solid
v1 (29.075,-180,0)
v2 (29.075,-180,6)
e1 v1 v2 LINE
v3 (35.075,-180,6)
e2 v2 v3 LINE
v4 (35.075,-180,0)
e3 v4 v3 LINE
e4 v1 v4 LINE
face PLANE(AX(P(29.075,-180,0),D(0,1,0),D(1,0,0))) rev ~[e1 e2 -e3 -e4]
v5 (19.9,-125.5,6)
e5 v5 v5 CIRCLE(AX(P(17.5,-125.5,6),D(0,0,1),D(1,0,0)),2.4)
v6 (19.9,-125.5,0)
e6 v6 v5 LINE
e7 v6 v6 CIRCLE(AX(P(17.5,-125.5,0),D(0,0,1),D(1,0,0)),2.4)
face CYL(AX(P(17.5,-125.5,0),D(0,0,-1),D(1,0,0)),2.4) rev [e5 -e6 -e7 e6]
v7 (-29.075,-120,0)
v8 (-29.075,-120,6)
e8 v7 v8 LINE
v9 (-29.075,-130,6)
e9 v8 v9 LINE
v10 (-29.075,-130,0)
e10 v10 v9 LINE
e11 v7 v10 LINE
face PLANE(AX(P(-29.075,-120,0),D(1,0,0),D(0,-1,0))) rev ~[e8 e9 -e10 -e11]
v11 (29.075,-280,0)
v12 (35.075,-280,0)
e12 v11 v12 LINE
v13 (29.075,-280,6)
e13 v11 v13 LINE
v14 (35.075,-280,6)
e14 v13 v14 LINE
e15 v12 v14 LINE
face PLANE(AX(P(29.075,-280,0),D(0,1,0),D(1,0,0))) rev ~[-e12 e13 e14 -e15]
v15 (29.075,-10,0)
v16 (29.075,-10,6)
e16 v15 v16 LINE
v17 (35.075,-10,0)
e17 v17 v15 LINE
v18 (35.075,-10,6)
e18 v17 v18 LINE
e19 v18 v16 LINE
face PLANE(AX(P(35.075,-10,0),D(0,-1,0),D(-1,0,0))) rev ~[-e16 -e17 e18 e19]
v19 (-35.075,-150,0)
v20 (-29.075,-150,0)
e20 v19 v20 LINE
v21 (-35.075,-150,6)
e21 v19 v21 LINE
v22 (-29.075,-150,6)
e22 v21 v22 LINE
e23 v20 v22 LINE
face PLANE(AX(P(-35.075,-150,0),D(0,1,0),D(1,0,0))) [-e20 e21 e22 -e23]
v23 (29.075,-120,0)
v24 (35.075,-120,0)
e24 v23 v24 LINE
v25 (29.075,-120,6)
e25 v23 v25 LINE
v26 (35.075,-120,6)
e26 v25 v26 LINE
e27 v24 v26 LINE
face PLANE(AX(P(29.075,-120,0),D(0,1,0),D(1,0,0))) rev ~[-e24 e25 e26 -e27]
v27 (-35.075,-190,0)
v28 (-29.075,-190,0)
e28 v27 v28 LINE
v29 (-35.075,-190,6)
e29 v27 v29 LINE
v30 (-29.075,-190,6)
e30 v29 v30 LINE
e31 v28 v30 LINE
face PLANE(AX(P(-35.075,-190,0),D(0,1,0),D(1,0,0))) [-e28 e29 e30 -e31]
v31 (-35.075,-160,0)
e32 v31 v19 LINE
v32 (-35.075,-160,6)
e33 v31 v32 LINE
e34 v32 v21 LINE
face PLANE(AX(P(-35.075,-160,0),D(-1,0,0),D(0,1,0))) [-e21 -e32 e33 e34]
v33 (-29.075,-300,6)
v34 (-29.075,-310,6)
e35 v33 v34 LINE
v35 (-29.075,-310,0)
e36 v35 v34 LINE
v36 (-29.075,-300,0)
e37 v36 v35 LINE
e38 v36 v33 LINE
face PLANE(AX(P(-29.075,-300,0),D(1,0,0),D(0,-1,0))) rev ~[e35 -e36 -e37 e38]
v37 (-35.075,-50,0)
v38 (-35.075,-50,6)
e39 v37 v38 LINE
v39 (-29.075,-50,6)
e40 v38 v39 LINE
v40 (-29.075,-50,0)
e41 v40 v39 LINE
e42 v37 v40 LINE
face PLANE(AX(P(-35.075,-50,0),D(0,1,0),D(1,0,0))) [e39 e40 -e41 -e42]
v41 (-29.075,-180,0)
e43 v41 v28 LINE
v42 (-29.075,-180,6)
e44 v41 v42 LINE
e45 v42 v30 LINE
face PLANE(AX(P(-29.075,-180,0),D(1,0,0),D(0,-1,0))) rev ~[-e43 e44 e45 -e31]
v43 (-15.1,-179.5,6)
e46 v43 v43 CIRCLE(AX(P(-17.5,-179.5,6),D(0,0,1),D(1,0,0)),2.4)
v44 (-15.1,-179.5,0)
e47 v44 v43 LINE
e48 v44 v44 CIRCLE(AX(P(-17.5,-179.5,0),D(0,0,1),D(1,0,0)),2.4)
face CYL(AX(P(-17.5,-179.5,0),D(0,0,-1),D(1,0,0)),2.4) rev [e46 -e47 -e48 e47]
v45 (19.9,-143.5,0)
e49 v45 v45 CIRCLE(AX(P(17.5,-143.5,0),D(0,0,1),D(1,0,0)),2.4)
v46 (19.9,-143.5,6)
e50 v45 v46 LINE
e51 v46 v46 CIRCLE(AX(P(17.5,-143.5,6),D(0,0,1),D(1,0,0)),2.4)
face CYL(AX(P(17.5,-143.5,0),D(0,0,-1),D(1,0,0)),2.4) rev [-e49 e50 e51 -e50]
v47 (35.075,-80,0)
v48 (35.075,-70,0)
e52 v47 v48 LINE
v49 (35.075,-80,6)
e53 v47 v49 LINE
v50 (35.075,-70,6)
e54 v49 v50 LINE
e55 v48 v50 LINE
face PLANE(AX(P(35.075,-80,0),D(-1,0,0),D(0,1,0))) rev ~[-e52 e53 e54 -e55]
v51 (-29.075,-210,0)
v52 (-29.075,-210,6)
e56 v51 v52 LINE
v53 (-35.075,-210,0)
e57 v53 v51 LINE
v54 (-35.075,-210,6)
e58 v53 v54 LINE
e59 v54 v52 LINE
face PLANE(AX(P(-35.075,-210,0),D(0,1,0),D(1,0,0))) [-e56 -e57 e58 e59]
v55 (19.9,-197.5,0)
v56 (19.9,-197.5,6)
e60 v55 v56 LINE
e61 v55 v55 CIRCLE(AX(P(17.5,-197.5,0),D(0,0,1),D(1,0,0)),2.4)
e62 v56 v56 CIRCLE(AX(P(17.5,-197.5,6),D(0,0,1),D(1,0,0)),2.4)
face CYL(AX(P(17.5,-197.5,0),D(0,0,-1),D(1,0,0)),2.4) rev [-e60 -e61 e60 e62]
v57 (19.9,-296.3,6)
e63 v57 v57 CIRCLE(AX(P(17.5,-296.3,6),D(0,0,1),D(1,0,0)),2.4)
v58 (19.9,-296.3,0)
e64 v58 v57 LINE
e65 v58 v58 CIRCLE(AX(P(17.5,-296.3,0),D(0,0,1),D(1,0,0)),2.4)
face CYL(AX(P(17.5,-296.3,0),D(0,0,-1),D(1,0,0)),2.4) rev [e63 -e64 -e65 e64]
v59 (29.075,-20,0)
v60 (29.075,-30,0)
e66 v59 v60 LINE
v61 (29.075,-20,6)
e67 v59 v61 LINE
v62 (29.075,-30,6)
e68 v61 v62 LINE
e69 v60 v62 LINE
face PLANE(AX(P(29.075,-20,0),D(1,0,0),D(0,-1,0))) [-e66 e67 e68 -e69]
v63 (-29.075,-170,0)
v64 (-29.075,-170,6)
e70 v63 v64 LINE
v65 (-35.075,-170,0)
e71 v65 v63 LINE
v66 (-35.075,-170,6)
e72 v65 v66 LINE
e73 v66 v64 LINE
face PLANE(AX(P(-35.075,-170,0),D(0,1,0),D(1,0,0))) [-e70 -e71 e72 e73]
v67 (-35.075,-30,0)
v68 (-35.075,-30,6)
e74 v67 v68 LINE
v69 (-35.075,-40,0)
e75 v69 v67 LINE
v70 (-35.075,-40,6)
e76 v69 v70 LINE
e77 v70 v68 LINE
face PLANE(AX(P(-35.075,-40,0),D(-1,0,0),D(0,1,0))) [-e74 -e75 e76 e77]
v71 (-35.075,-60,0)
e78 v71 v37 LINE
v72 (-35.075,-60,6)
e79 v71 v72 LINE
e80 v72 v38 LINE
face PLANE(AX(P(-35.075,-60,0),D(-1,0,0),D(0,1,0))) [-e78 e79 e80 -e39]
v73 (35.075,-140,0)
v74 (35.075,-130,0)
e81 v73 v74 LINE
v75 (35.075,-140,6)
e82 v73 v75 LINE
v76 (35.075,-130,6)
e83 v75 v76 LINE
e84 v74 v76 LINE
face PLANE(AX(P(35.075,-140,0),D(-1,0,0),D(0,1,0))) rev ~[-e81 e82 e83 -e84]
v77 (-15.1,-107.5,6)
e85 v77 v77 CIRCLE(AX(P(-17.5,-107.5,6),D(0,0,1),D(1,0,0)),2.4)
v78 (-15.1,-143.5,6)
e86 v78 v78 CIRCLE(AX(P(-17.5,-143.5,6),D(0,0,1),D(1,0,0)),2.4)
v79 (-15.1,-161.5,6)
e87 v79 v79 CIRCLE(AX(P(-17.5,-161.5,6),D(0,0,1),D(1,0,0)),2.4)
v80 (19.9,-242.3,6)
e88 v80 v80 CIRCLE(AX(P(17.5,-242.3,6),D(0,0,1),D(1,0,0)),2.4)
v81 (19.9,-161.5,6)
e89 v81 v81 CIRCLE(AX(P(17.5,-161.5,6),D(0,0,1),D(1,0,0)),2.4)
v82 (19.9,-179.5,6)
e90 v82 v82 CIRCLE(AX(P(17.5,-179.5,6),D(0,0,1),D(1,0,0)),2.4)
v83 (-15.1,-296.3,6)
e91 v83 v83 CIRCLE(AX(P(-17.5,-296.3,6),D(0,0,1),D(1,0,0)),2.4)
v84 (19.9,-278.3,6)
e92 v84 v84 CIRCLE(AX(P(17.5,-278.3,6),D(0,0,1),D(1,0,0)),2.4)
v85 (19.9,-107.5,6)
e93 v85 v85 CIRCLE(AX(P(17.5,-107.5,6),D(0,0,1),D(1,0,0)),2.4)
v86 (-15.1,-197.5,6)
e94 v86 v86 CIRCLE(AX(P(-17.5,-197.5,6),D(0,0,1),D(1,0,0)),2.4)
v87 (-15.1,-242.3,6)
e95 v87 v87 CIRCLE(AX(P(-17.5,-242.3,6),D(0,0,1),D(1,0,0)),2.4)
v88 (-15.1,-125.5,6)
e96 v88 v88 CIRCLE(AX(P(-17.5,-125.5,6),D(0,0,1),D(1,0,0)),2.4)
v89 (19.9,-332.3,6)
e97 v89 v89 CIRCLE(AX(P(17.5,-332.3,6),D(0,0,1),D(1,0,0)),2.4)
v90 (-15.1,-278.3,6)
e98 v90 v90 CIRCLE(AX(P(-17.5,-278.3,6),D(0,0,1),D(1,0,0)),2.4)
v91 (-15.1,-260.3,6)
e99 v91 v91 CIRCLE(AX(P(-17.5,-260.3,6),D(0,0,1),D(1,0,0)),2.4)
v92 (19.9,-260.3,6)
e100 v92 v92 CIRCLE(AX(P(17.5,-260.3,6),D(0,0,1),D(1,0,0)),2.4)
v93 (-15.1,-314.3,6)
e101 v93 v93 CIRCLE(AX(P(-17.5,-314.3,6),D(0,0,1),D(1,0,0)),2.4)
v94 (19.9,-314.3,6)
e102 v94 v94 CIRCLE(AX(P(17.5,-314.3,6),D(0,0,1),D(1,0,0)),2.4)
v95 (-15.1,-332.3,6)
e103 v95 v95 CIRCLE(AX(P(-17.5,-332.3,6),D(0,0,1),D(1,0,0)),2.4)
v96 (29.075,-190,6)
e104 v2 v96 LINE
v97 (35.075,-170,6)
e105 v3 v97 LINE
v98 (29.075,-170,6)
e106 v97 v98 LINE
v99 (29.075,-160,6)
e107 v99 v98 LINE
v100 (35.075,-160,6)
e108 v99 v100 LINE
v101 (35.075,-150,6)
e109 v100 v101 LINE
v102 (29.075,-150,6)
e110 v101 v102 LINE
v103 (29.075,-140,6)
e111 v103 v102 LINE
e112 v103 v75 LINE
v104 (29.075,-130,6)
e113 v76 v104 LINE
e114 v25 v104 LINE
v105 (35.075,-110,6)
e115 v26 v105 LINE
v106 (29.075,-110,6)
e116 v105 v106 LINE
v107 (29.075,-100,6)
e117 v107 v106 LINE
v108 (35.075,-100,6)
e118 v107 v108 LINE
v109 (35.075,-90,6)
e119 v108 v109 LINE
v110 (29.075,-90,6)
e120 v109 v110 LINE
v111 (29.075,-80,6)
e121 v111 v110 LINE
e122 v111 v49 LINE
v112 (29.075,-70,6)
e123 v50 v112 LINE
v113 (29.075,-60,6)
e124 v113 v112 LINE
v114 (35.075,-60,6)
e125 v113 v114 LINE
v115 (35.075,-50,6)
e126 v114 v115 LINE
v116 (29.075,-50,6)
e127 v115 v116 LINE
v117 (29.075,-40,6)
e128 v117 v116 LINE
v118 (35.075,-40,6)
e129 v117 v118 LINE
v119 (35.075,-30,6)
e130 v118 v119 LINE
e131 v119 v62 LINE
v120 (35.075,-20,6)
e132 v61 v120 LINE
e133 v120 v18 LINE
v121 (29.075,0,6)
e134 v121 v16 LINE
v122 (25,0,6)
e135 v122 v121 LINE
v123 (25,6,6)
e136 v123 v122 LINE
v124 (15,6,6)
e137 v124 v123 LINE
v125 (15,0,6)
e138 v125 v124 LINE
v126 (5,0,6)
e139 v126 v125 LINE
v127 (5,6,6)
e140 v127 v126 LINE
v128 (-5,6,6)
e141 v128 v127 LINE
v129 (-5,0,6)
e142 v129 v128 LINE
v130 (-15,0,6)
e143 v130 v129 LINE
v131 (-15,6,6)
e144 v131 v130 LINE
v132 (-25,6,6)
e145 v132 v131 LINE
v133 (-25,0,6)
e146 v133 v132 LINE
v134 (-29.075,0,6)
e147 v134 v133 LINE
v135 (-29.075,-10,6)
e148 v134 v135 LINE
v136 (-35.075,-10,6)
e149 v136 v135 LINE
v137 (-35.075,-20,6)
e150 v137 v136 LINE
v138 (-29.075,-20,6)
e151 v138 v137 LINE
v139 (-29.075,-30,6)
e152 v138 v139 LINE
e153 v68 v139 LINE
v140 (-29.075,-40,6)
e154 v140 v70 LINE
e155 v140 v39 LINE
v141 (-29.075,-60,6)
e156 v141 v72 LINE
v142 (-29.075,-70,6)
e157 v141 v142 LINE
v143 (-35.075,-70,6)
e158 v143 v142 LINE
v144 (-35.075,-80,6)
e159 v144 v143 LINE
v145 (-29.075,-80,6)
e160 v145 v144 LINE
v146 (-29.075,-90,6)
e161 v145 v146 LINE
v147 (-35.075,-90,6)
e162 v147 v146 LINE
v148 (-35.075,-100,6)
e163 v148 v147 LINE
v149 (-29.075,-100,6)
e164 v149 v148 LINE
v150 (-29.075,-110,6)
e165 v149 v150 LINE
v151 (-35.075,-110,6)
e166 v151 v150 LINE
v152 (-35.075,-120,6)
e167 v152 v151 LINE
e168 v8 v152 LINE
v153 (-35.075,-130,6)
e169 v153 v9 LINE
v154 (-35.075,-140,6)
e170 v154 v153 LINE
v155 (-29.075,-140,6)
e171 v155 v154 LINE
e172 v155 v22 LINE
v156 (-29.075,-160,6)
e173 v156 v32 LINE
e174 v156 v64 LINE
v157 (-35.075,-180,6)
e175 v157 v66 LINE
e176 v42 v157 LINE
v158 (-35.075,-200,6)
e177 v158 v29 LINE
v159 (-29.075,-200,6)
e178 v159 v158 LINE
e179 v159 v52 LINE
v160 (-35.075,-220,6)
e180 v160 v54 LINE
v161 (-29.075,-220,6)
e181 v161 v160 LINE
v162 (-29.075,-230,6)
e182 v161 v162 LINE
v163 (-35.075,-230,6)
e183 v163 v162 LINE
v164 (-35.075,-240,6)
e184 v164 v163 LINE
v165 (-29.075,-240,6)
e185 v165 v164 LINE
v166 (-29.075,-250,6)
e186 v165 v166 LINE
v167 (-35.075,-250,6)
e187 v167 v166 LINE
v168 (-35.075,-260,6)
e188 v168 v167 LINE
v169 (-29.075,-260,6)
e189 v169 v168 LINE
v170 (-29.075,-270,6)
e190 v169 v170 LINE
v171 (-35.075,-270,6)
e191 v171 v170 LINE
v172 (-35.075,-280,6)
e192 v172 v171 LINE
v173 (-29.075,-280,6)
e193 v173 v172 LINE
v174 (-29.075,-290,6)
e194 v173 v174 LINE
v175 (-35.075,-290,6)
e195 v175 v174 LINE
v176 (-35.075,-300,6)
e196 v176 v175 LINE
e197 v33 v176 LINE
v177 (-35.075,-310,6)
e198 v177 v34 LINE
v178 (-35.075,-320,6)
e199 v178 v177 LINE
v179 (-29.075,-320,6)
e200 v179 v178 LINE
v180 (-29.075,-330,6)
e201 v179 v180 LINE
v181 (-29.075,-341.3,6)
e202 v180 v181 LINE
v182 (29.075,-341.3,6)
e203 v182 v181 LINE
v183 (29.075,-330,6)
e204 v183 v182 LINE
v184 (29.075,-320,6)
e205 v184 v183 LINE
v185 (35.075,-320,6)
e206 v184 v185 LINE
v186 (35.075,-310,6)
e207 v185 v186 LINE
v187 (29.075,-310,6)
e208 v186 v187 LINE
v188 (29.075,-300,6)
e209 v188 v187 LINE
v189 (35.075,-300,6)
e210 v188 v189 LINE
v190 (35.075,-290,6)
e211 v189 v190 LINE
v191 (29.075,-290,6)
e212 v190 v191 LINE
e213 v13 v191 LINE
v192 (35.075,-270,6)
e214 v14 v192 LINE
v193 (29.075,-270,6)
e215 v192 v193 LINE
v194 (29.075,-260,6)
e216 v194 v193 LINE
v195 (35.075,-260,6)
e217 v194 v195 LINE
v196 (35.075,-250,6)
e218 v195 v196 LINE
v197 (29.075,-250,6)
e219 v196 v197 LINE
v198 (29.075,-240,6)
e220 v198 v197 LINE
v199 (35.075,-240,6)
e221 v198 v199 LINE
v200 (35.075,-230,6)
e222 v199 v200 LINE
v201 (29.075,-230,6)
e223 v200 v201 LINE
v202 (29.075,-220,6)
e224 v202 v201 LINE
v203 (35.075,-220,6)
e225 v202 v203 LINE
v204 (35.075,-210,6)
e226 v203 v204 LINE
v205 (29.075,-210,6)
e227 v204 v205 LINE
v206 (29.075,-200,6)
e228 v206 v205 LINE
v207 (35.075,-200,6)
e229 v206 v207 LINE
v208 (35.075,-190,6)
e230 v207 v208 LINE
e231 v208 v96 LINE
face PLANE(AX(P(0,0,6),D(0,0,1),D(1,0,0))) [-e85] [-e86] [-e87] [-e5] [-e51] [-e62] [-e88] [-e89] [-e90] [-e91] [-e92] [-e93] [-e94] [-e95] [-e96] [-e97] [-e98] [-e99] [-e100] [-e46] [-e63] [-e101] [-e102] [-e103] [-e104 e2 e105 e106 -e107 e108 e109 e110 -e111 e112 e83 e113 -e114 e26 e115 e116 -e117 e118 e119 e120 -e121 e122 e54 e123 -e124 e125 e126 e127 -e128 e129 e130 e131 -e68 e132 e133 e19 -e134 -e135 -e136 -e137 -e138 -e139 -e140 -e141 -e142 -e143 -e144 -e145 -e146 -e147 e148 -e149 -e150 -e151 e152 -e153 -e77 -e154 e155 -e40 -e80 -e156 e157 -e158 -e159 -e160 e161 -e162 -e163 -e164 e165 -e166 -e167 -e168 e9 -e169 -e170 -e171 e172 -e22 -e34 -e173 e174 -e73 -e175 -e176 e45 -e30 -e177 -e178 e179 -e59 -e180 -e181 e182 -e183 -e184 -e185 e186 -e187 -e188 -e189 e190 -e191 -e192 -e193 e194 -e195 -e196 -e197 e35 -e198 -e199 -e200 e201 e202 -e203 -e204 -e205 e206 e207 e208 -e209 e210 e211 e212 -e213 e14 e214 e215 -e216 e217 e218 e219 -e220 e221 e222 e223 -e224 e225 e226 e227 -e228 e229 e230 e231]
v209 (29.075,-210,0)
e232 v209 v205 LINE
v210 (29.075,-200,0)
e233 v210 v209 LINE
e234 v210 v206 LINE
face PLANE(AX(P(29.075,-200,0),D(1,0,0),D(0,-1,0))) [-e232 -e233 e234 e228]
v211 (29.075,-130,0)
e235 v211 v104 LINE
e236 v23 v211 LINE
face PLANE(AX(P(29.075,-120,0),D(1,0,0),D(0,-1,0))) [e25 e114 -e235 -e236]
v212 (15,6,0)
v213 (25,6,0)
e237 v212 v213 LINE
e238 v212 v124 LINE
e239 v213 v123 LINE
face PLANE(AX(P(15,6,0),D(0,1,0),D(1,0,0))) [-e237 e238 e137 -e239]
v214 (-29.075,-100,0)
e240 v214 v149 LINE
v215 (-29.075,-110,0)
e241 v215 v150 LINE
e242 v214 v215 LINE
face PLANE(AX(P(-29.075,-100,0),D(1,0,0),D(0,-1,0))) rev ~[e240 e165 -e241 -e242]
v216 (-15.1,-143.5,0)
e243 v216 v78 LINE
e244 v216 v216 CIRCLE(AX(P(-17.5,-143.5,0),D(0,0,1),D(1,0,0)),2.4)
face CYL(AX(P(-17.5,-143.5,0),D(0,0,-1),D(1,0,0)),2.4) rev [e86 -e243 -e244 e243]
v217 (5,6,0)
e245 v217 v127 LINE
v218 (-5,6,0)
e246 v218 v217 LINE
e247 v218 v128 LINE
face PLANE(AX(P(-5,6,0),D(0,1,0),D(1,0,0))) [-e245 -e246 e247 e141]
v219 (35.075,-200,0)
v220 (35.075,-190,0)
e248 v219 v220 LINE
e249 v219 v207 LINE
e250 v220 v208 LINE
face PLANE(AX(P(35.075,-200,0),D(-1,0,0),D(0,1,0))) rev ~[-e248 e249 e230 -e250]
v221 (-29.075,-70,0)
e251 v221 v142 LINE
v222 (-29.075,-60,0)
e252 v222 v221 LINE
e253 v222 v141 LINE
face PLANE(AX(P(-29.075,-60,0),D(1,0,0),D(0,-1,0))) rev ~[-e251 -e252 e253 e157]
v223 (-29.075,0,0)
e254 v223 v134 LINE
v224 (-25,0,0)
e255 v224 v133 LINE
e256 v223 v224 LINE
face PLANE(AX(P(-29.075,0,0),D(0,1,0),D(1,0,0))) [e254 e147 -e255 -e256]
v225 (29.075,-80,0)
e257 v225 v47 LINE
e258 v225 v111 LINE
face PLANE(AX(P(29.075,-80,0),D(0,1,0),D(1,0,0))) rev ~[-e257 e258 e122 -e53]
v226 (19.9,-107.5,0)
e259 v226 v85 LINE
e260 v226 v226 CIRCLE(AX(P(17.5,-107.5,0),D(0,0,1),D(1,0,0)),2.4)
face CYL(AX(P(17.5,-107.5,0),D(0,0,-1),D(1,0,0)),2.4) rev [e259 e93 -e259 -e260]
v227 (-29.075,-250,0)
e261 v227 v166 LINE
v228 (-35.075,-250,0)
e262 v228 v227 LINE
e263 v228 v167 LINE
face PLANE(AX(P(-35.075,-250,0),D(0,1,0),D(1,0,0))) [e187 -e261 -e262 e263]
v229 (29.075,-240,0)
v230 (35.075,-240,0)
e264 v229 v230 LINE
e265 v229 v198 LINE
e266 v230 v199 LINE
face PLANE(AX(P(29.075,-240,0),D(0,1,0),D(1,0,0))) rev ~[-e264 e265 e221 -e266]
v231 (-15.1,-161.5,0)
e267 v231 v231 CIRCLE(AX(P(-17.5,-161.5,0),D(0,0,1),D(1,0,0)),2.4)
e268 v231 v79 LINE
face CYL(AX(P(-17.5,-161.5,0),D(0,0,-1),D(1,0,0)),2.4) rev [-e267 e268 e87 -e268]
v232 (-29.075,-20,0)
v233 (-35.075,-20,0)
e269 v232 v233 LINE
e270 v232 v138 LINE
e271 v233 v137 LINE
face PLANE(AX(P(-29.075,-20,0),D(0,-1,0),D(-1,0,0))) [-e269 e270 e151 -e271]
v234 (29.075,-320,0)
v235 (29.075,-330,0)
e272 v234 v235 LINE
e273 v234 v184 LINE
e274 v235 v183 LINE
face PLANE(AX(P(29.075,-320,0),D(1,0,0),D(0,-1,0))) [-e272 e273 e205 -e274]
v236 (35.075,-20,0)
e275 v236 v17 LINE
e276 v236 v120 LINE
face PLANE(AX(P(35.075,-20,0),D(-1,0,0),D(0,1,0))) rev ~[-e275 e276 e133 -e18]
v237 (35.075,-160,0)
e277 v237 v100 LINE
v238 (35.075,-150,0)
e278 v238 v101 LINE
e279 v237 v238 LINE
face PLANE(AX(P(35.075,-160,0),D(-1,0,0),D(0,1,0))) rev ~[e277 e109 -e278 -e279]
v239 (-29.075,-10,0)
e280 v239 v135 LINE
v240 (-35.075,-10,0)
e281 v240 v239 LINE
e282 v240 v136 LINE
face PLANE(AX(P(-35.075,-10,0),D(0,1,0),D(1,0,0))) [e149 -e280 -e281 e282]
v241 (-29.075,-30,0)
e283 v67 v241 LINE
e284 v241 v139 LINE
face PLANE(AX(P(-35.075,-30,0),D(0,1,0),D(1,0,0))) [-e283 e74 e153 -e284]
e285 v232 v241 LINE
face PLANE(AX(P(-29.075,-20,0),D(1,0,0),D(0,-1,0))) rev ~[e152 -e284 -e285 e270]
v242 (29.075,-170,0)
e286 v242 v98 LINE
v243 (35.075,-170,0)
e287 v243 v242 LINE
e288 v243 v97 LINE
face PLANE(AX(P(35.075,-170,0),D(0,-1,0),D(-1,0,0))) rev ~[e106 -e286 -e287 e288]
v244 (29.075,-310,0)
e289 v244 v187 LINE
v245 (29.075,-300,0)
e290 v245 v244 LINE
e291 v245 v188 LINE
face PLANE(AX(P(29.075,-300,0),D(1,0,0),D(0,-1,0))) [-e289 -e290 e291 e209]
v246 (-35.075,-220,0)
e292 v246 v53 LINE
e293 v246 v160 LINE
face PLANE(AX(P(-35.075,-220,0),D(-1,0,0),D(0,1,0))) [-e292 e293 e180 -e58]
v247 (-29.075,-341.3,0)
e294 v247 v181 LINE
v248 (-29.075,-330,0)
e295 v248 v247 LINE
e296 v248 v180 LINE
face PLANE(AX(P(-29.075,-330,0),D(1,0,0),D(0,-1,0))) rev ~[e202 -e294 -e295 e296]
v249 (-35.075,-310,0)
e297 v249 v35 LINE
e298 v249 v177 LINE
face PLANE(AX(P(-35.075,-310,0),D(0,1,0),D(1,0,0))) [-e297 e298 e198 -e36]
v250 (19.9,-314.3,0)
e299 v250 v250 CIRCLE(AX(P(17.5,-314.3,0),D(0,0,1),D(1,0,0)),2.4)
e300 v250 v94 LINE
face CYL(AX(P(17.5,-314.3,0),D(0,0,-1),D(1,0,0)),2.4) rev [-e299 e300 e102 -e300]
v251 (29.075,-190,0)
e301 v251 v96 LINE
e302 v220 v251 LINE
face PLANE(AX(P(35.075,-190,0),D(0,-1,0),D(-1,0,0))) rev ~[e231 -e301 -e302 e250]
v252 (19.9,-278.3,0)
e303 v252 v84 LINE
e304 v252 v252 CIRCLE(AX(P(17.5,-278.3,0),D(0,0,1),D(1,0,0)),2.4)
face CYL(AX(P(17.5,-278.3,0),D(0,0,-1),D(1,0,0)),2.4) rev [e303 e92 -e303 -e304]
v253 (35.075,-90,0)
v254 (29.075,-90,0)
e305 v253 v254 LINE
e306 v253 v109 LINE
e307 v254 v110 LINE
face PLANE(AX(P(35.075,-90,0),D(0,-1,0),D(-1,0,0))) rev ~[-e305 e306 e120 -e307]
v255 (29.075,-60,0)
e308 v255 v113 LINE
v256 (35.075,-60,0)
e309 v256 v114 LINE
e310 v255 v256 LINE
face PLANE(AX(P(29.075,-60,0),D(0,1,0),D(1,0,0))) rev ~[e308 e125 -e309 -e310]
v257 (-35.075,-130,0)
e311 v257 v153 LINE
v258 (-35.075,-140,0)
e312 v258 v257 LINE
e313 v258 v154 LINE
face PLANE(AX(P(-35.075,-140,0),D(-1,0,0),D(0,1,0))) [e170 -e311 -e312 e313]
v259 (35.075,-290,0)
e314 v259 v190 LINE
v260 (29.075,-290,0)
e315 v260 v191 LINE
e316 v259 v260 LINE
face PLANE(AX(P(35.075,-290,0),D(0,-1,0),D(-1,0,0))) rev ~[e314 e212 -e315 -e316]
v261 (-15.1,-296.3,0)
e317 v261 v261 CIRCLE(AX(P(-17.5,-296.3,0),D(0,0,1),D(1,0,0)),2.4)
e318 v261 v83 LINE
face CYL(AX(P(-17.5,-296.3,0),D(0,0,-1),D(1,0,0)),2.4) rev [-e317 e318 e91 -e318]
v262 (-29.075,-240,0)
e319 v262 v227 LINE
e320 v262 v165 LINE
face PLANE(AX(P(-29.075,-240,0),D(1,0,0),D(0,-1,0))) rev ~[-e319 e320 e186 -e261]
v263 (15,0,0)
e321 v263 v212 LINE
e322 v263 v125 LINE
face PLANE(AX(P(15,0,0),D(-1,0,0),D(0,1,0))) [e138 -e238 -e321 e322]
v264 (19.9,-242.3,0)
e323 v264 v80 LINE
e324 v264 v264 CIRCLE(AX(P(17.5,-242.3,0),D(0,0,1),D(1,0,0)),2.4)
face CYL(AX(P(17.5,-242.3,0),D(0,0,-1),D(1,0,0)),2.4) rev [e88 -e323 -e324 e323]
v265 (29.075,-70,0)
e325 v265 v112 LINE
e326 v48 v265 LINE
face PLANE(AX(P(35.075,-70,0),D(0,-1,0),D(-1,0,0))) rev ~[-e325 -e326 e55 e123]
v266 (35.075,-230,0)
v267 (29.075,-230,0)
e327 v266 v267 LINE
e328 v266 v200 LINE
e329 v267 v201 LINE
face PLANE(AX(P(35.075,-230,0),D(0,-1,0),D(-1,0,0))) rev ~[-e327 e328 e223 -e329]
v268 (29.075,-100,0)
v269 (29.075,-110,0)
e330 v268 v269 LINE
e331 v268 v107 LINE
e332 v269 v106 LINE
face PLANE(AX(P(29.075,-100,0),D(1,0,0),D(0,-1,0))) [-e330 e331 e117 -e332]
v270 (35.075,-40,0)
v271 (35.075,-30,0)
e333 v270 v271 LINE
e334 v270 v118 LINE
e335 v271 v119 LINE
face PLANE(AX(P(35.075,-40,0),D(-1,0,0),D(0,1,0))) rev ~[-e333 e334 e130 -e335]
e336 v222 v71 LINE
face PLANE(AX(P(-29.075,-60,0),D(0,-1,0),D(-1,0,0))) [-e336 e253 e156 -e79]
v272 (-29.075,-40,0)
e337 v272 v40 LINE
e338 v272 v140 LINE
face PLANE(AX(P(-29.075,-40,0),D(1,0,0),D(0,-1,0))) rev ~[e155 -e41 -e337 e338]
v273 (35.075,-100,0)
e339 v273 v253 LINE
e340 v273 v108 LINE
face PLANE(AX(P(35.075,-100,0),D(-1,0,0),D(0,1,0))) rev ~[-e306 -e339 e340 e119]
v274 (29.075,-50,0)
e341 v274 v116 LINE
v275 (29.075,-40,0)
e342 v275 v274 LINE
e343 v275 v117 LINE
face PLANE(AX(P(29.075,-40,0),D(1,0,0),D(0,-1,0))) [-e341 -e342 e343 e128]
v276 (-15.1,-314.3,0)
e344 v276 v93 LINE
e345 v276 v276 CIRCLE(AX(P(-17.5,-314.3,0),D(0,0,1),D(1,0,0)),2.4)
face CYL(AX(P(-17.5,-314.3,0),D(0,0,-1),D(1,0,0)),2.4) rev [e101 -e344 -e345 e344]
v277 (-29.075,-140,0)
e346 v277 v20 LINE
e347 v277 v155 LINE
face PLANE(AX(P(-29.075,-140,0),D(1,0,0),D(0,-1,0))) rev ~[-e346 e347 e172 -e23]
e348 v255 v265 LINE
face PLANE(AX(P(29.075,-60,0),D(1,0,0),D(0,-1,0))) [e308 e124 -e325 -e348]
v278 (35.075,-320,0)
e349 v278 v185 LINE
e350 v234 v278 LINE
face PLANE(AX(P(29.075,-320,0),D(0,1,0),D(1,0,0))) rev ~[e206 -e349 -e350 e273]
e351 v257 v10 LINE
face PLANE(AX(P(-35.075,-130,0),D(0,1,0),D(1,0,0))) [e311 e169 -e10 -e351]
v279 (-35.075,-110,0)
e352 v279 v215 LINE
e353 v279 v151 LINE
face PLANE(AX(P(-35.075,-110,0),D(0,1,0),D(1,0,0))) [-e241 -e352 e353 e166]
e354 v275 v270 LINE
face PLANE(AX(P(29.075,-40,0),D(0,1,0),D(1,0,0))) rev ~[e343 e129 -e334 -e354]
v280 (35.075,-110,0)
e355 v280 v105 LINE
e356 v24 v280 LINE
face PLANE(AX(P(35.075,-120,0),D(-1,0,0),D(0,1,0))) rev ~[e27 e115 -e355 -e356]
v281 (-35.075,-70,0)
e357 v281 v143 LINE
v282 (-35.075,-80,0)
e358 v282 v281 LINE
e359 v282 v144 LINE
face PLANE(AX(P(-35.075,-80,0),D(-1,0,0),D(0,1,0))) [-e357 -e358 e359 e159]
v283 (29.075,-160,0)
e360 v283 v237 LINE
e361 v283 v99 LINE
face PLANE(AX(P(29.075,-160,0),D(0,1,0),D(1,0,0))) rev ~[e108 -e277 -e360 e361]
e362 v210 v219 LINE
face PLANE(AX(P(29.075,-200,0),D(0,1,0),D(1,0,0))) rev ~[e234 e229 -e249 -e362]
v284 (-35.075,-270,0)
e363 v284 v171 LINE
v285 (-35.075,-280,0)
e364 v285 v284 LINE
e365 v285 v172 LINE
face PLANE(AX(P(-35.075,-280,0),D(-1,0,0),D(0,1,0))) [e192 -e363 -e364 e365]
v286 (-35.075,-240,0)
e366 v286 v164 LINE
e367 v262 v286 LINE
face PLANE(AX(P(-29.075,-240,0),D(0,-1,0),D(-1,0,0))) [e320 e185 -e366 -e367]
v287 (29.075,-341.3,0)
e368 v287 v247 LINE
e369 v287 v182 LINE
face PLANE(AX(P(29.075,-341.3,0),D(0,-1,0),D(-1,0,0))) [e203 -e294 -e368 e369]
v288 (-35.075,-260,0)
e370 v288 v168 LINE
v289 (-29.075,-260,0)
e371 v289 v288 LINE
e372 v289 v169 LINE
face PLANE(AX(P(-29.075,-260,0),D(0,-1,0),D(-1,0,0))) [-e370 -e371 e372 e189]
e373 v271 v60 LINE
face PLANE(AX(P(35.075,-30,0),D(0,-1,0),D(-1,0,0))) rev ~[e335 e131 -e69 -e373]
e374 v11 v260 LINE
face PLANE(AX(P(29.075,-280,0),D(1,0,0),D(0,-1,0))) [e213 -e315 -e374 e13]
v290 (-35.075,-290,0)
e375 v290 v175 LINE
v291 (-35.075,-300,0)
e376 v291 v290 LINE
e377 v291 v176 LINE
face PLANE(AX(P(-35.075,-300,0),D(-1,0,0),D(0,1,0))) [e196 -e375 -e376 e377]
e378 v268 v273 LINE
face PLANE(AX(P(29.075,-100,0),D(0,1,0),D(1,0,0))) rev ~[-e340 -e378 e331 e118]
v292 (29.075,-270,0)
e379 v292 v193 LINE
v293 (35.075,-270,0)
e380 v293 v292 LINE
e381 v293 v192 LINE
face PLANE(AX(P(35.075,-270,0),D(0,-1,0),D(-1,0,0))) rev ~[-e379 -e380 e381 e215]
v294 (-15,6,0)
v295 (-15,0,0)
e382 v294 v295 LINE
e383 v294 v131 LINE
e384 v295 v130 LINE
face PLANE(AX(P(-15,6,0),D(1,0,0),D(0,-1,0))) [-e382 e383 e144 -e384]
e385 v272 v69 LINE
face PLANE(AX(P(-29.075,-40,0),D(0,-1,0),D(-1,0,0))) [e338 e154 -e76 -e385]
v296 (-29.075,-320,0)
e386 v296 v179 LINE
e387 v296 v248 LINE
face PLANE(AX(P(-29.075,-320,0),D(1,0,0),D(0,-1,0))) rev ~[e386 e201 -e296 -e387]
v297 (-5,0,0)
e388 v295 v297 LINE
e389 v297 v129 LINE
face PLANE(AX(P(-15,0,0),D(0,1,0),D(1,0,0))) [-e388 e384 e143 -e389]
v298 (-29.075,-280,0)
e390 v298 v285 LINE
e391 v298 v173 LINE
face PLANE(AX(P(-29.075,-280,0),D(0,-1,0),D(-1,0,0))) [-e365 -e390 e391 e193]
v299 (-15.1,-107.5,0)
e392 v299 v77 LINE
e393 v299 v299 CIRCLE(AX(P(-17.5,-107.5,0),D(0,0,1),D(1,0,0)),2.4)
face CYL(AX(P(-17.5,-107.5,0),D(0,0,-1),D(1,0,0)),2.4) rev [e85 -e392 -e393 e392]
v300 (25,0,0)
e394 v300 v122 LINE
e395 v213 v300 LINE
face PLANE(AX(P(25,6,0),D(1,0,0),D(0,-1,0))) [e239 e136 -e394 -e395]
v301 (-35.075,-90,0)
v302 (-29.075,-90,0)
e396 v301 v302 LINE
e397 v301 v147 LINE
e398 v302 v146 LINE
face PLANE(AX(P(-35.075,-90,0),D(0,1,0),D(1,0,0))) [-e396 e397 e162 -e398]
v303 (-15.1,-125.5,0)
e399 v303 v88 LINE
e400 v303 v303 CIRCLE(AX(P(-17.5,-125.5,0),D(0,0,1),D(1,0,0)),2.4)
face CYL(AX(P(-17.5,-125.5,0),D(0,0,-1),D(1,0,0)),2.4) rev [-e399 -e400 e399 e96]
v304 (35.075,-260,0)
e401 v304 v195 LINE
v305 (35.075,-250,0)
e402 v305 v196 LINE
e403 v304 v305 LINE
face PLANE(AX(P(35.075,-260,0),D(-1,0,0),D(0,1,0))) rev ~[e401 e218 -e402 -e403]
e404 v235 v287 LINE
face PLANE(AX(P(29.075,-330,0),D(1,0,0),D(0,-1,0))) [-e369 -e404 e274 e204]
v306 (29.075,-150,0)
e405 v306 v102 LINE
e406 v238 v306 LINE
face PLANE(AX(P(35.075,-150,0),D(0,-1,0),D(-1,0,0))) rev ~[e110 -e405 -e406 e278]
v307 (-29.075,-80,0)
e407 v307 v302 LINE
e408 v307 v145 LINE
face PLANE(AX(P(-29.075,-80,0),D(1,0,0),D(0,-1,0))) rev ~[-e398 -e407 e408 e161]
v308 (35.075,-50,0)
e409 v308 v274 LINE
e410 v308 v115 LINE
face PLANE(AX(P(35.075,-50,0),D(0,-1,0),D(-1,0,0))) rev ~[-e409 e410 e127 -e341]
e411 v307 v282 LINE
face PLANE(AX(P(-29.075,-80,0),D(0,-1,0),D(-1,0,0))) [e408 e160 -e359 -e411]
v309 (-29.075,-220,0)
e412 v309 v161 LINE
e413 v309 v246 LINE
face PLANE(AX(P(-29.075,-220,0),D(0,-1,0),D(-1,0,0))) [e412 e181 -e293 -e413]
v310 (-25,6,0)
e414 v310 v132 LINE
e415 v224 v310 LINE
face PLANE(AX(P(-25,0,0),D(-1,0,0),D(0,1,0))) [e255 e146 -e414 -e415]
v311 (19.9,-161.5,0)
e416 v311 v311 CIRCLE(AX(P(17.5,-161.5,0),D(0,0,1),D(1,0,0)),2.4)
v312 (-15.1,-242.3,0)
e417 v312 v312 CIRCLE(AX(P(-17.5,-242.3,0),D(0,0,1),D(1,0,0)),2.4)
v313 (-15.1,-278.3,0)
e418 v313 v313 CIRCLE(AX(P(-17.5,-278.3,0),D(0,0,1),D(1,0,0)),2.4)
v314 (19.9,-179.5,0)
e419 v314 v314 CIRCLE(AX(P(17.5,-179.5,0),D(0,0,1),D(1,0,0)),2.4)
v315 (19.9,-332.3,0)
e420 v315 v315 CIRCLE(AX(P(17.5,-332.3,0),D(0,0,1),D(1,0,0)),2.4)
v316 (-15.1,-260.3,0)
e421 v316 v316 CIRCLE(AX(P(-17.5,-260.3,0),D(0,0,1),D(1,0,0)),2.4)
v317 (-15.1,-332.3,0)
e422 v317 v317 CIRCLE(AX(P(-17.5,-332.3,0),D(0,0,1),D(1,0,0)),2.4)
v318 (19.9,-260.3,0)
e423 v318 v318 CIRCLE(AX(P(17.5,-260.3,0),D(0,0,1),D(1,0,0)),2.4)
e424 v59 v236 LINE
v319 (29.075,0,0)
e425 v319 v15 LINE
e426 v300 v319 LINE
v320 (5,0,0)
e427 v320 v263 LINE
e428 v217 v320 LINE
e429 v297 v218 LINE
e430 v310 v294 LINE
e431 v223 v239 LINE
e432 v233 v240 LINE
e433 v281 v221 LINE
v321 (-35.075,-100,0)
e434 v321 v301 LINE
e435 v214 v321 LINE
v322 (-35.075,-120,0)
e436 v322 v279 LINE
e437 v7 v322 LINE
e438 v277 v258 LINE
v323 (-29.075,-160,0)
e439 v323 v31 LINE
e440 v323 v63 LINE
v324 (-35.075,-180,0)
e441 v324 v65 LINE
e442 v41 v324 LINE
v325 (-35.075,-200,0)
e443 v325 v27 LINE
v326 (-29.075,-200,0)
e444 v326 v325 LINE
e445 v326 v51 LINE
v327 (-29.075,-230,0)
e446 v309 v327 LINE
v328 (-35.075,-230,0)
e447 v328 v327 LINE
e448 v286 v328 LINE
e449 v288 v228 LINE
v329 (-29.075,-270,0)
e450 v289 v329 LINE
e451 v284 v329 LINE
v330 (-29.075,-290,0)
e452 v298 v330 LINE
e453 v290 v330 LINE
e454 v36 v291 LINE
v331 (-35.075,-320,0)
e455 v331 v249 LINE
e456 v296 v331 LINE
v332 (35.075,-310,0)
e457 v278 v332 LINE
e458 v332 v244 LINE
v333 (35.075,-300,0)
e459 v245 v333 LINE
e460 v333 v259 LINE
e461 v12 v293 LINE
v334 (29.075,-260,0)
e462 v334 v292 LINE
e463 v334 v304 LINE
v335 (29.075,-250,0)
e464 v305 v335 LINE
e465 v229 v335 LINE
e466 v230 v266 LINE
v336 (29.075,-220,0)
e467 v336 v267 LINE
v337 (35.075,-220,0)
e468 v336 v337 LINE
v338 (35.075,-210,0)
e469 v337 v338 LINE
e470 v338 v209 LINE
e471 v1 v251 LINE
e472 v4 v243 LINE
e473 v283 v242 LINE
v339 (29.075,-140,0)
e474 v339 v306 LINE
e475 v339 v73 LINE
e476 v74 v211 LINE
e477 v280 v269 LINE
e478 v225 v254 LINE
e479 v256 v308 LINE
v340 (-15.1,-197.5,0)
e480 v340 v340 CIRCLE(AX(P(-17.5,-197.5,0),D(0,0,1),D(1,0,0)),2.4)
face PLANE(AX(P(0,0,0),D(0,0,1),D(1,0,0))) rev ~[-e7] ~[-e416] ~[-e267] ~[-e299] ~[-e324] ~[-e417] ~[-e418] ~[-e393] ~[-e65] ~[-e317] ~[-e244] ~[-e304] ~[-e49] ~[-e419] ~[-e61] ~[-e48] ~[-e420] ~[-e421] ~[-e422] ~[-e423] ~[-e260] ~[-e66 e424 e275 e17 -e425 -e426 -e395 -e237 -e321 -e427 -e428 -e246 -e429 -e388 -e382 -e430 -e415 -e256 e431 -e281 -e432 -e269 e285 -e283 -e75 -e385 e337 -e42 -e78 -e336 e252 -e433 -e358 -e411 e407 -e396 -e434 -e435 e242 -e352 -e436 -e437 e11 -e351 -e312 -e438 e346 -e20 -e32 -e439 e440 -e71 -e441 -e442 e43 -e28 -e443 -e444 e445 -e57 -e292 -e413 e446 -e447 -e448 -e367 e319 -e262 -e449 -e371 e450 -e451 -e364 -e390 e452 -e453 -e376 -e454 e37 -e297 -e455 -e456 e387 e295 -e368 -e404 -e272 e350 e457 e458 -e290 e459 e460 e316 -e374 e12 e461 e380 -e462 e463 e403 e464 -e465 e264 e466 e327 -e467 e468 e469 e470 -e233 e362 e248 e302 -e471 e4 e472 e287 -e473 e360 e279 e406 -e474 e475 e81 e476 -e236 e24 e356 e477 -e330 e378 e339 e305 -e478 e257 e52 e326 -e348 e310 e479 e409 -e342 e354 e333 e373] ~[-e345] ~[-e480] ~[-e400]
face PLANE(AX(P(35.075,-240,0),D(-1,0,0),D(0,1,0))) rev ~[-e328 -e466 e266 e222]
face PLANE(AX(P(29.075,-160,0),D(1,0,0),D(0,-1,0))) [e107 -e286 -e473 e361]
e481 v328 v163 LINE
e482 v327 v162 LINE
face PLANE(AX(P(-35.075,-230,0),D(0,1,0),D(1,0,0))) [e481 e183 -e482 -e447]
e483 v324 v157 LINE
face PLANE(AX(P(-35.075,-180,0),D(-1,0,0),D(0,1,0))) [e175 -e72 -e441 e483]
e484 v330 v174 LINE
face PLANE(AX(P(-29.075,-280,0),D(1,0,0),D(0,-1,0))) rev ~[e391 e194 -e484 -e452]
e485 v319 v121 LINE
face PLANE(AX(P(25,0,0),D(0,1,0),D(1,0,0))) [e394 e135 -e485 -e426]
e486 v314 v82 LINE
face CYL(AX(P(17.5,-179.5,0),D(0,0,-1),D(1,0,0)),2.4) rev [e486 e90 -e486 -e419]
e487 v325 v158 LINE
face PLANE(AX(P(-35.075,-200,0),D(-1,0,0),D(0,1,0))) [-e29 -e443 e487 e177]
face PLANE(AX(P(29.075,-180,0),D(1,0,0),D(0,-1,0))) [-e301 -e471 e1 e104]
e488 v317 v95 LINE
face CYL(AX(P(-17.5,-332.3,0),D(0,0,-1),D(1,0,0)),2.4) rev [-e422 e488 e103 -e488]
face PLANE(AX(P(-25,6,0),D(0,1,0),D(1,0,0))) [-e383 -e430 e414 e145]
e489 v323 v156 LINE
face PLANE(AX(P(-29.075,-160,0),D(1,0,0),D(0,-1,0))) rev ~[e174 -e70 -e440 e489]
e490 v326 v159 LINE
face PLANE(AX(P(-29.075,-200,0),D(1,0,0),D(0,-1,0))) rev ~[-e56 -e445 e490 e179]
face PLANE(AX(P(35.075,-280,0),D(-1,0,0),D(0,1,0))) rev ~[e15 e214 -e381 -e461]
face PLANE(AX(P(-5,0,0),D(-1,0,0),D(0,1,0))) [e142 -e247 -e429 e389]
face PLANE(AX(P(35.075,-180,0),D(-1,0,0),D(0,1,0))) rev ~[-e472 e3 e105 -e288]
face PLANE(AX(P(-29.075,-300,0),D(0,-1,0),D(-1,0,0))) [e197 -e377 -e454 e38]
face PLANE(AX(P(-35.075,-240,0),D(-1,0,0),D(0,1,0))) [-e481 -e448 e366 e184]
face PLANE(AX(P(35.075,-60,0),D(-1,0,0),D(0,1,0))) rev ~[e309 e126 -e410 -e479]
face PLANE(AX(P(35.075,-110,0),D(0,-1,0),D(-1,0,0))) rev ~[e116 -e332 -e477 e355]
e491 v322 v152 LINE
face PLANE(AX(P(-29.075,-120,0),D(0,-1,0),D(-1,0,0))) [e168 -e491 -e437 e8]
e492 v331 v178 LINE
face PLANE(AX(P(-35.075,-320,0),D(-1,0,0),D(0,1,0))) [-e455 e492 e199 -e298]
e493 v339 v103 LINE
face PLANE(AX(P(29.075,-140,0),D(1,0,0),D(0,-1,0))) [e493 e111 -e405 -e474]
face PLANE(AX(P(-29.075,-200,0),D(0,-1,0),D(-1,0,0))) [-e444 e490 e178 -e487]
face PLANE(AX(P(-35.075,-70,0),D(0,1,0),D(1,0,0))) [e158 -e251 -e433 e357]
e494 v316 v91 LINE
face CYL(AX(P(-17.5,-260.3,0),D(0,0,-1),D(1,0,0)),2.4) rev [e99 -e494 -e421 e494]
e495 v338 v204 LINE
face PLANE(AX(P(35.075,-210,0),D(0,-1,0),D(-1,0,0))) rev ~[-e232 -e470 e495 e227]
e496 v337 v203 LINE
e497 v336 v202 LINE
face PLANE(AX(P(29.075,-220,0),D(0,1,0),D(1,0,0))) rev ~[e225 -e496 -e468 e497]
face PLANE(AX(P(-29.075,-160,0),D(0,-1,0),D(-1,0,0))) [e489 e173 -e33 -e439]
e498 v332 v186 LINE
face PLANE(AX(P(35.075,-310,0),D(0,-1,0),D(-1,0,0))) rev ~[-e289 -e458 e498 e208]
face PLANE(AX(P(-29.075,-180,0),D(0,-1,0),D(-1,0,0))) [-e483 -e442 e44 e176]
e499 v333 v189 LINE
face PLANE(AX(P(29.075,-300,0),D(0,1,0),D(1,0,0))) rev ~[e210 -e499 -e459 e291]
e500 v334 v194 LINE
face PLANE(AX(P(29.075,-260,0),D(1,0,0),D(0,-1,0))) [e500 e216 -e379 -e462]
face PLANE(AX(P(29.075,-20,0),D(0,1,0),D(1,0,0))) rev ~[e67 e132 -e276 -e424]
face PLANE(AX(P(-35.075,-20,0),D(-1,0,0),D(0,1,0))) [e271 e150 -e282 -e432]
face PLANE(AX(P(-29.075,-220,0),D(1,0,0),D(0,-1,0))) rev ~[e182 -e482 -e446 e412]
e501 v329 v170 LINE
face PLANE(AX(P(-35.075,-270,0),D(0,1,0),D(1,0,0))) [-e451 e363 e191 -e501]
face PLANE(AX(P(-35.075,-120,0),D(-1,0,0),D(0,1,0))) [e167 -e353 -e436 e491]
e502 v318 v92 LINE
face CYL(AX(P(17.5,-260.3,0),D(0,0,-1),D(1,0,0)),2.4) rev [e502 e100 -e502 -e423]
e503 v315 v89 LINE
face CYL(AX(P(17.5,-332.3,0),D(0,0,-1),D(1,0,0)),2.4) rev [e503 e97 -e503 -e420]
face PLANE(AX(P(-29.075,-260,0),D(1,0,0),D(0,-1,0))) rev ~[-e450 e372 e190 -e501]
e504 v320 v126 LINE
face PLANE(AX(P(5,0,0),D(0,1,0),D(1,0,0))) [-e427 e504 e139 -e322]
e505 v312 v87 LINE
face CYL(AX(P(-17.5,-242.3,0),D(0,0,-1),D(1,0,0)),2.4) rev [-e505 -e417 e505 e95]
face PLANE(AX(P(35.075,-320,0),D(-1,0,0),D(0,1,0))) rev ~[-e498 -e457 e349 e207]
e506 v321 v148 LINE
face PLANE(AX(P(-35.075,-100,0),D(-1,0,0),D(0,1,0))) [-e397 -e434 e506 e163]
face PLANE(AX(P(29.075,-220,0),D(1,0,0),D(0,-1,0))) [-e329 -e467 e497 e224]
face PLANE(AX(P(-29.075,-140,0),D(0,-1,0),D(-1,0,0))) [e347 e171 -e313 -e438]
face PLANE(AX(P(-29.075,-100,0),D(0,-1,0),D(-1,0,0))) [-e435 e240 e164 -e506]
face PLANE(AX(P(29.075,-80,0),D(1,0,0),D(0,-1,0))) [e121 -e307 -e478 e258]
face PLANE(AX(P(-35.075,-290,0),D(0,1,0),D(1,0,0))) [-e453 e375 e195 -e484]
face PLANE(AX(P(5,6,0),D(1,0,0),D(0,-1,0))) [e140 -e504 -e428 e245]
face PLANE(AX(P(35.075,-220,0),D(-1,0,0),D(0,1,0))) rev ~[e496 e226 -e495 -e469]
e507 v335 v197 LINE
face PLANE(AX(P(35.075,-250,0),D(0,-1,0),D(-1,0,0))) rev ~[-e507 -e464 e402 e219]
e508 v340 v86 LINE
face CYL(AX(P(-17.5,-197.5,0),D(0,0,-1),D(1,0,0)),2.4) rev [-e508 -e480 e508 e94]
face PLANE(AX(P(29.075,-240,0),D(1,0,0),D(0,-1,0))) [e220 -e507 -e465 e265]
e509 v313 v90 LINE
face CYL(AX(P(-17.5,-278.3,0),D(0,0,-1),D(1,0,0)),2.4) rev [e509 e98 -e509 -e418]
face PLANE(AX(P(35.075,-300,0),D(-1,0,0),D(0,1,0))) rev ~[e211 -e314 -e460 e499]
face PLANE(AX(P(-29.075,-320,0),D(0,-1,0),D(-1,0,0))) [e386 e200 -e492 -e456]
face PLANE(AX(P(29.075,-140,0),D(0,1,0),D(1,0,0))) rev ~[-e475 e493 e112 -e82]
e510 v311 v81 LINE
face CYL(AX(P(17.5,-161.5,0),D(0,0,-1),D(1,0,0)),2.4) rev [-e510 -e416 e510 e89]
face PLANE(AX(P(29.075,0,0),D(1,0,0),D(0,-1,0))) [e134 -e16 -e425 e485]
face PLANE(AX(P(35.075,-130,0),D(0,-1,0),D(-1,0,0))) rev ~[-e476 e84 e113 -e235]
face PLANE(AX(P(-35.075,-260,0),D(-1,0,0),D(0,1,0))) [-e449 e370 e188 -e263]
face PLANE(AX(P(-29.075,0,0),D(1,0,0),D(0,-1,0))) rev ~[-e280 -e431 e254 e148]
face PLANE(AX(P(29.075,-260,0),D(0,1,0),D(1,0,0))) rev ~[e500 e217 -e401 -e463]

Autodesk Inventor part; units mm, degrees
ref_plane "YZ Plane" through (0, 0, 0) normal (1, 0, 0) x (0, 1, 0)
ref_plane "XZ Plane" through (0, 0, 0) normal (0, 1, 0) x (-1, 0, 0)
ref_plane "XY Plane" through (0, 0, 0) normal (0, 0, 1) x (1, 0, 0)
sketch "Sketch1" plane through (0, 0, 0) normal (0, 0, 1) x (1, 0, 0)
  line L0 (29.075, 0) -> (29.075, -341.3) construction
  line L1 (29.075, -341.3) -> (-29.075, -341.3)
  line L2 (-29.075, -341.3) -> (-29.075, 0) construction
  line L3 (-5, 6) -> (5, 6)
  line L4 (5, 6) -> (5, 0)
  line L5 (-5, 0) -> (-5, 6)
  line L6 (-29.075, 0) -> (-5, 0) construction
  line L7 (5, 0) -> (29.075, 0) construction
  line L8 (15, 6) -> (25, 6)
  line L9 (25, 6) -> (25, 0)
  line L10 (15, 0) -> (15, 6)
  line L11 (-25, 6) -> (-15, 6)
  line L12 (-15, 6) -> (-15, 0)
  line L13 (-25, 0) -> (-25, 6)
  line L14 (-5, 6) -> (5, 6)
  line L15 (5, 6) -> (5, 0)
  line L16 (-5, 0) -> (-5, 6)
  line L17 (-29.075, 0) -> (-25, 0)
  line L18 (-15, 0) -> (-5, 0)
  line L19 (5, 0) -> (15, 0)
  line L20 (25, 0) -> (29.075, 0)
  line L21 (-35.075, -10) -> (-29.075, -10)
  line L22 (-29.075, -10) -> (-29.075, -20) construction
  line L23 (-29.075, -20) -> (-35.075, -20)
  line L24 (-35.075, -20) -> (-35.075, -10)
  line L25 (-29.075, -20) -> (-29.075, -30)
  line L26 (-29.075, 0) -> (-29.075, -10)
  line L27 (-35.075, -30) -> (-29.075, -30)
  line L28 (-29.075, -40) -> (-29.075, -50)
  line L29 (-29.075, -40) -> (-35.075, -40)
  line L30 (-35.075, -40) -> (-35.075, -30)
  line L31 (-35.075, -50) -> (-29.075, -50)
  line L32 (-29.075, -60) -> (-29.075, -70)
  line L33 (-29.075, -60) -> (-35.075, -60)
  line L34 (-35.075, -60) -> (-35.075, -50)
  line L35 (-35.075, -70) -> (-29.075, -70)
  line L36 (-29.075, -80) -> (-29.075, -90)
  line L37 (-29.075, -80) -> (-35.075, -80)
  line L38 (-35.075, -80) -> (-35.075, -70)
  line L39 (-35.075, -90) -> (-29.075, -90)
  line L40 (-29.075, -100) -> (-29.075, -110)
  line L41 (-29.075, -100) -> (-35.075, -100)
  line L42 (-35.075, -100) -> (-35.075, -90)
  line L43 (-35.075, -110) -> (-29.075, -110)
  line L44 (-29.075, -120) -> (-29.075, -130)
  line L45 (-29.075, -120) -> (-35.075, -120)
  line L46 (-35.075, -120) -> (-35.075, -110)
  line L47 (-35.075, -130) -> (-29.075, -130)
  line L48 (-29.075, -140) -> (-29.075, -150)
  line L49 (-29.075, -140) -> (-35.075, -140)
  line L50 (-35.075, -140) -> (-35.075, -130)
  line L51 (-35.075, -150) -> (-29.075, -150)
  line L52 (-29.075, -160) -> (-29.075, -170)
  line L53 (-29.075, -160) -> (-35.075, -160)
  line L54 (-35.075, -160) -> (-35.075, -150)
  line L55 (-35.075, -170) -> (-29.075, -170)
  line L56 (-29.075, -180) -> (-29.075, -190)
  line L57 (-29.075, -180) -> (-35.075, -180)
  line L58 (-35.075, -180) -> (-35.075, -170)
  line L59 (-35.075, -190) -> (-29.075, -190)
  line L60 (-29.075, -200) -> (-29.075, -210)
  line L61 (-29.075, -200) -> (-35.075, -200)
  line L62 (-35.075, -200) -> (-35.075, -190)
  line L63 (-35.075, -210) -> (-29.075, -210)
  line L64 (-29.075, -220) -> (-29.075, -230)
  line L65 (-29.075, -220) -> (-35.075, -220)
  line L66 (-35.075, -220) -> (-35.075, -210)
  line L67 (-35.075, -230) -> (-29.075, -230)
  line L68 (-29.075, -240) -> (-29.075, -250)
  line L69 (-29.075, -240) -> (-35.075, -240)
  line L70 (-35.075, -240) -> (-35.075, -230)
  line L71 (-35.075, -250) -> (-29.075, -250)
  line L72 (-29.075, -260) -> (-29.075, -270)
  line L73 (-29.075, -260) -> (-35.075, -260)
  line L74 (-35.075, -260) -> (-35.075, -250)
  line L75 (-35.075, -270) -> (-29.075, -270)
  line L76 (-29.075, -280) -> (-29.075, -290)
  line L77 (-29.075, -280) -> (-35.075, -280)
  line L78 (-35.075, -280) -> (-35.075, -270)
  line L79 (-35.075, -290) -> (-29.075, -290)
  line L80 (-29.075, -300) -> (-29.075, -310)
  line L81 (-29.075, -300) -> (-35.075, -300)
  line L82 (-35.075, -300) -> (-35.075, -290)
  line L83 (-35.075, -310) -> (-29.075, -310)
  line L84 (-29.075, -320) -> (-29.075, -330)
  line L85 (-29.075, -320) -> (-35.075, -320)
  line L86 (-35.075, -320) -> (-35.075, -310)
  line L87 (-29.075, -330) -> (-29.075, -341.3)
  line L88 (0, 0) -> (0, -341.3) construction
  line L89 (29.075, -341.3) -> (29.075, 0) construction
  line L90 (35.075, -10) -> (29.075, -10)
  line L91 (29.075, -10) -> (29.075, -20) construction
  line L92 (29.075, -20) -> (35.075, -20)
  line L93 (35.075, -20) -> (35.075, -10)
  line L94 (29.075, -20) -> (29.075, -30)
  line L95 (29.075, 0) -> (29.075, -10)
  line L96 (35.075, -30) -> (29.075, -30)
  line L97 (29.075, -40) -> (29.075, -50)
  line L98 (29.075, -40) -> (35.075, -40)
  line L99 (35.075, -40) -> (35.075, -30)
  line L100 (35.075, -50) -> (29.075, -50)
  line L101 (29.075, -60) -> (29.075, -70)
  line L102 (29.075, -60) -> (35.075, -60)
  line L103 (35.075, -60) -> (35.075, -50)
  line L104 (35.075, -70) -> (29.075, -70)
  line L105 (29.075, -80) -> (29.075, -90)
  line L106 (29.075, -80) -> (35.075, -80)
  line L107 (35.075, -80) -> (35.075, -70)
  line L108 (35.075, -90) -> (29.075, -90)
  line L109 (29.075, -100) -> (29.075, -110)
  line L110 (29.075, -100) -> (35.075, -100)
  line L111 (35.075, -100) -> (35.075, -90)
  line L112 (35.075, -110) -> (29.075, -110)
  line L113 (29.075, -120) -> (29.075, -130)
  line L114 (29.075, -120) -> (35.075, -120)
  line L115 (35.075, -120) -> (35.075, -110)
  line L116 (35.075, -130) -> (29.075, -130)
  line L117 (29.075, -140) -> (29.075, -150)
  line L118 (29.075, -140) -> (35.075, -140)
  line L119 (35.075, -140) -> (35.075, -130)
  line L120 (35.075, -150) -> (29.075, -150)
  line L121 (29.075, -160) -> (29.075, -170)
  line L122 (29.075, -160) -> (35.075, -160)
  line L123 (35.075, -160) -> (35.075, -150)
  line L124 (35.075, -170) -> (29.075, -170)
  line L125 (29.075, -180) -> (29.075, -190)
  line L126 (29.075, -180) -> (35.075, -180)
  line L127 (35.075, -180) -> (35.075, -170)
  line L128 (35.075, -190) -> (29.075, -190)
  line L129 (29.075, -200) -> (29.075, -210)
  line L130 (29.075, -200) -> (35.075, -200)
  line L131 (35.075, -200) -> (35.075, -190)
  line L132 (35.075, -210) -> (29.075, -210)
  line L133 (29.075, -220) -> (29.075, -230)
  line L134 (29.075, -220) -> (35.075, -220)
  line L135 (35.075, -220) -> (35.075, -210)
  line L136 (35.075, -230) -> (29.075, -230)
  line L137 (29.075, -240) -> (29.075, -250)
  line L138 (29.075, -240) -> (35.075, -240)
  line L139 (35.075, -240) -> (35.075, -230)
  line L140 (35.075, -250) -> (29.075, -250)
  line L141 (29.075, -260) -> (29.075, -270)
  line L142 (29.075, -260) -> (35.075, -260)
  line L143 (35.075, -260) -> (35.075, -250)
  line L144 (35.075, -270) -> (29.075, -270)
  line L145 (29.075, -280) -> (29.075, -290)
  line L146 (29.075, -280) -> (35.075, -280)
  line L147 (35.075, -280) -> (35.075, -270)
  line L148 (35.075, -290) -> (29.075, -290)
  line L149 (29.075, -300) -> (29.075, -310)
  line L150 (29.075, -300) -> (35.075, -300)
  line L151 (35.075, -300) -> (35.075, -290)
  line L152 (35.075, -310) -> (29.075, -310)
  line L153 (29.075, -320) -> (29.075, -330)
  line L154 (29.075, -320) -> (35.075, -320)
  line L155 (35.075, -320) -> (35.075, -310)
  line L156 (29.075, -330) -> (29.075, -341.3)
  circle A0 centre (17.5, -332.3) radius 2.4
  circle A1 centre (17.5, -197.5) radius 2.4
  circle A2 centre (17.5, -314.3) radius 2.4
  circle A3 centre (17.5, -179.5) radius 2.4
  circle A4 centre (17.5, -296.3) radius 2.4
  circle A5 centre (17.5, -161.5) radius 2.4
  circle A6 centre (17.5, -278.3) radius 2.4
  circle A7 centre (17.5, -143.5) radius 2.4
  circle A8 centre (17.5, -260.3) radius 2.4
  circle A9 centre (17.5, -125.5) radius 2.4
  circle A10 centre (17.5, -242.3) radius 2.4
  circle A11 centre (17.5, -107.5) radius 2.4
  circle A12 centre (-17.5, -332.3) radius 2.4
  circle A13 centre (-17.5, -197.5) radius 2.4
  circle A14 centre (-17.5, -314.3) radius 2.4
  circle A15 centre (-17.5, -179.5) radius 2.4
  circle A16 centre (-17.5, -296.3) radius 2.4
  circle A17 centre (-17.5, -161.5) radius 2.4
  circle A18 centre (-17.5, -278.3) radius 2.4
  circle A19 centre (-17.5, -143.5) radius 2.4
  circle A20 centre (-17.5, -260.3) radius 2.4
  circle A21 centre (-17.5, -125.5) radius 2.4
  circle A22 centre (-17.5, -242.3) radius 2.4
  circle A23 centre (-17.5, -107.5) radius 2.4
  point P0 (0, 6)
  point P1 (20, 0)
  point P2 (20, 0)
  point P3 (20, 6)
  point P4 (-20, 0)
  point P5 (-20, 0)
  point P6 (-20, 6)
  point P7 (0, 6)
  point P8 (10, 0)
  dimension "d7" = 341.3
  dimension "d9" = 58.15
  dimension "d11" = 10
  dimension "d12" = 6
  dimension "d38" = 20
  dimension "d49" = 20
  dimension "d58" = 6
  dimension "d60" = 10
  dimension "d61" = 10
  dimension "d62" = 10
  dimension "d69" = 20
  dimension "d75" = 4.8
  dimension "d76" = 17.5
  dimension "d77" = 9
  dimension "d78" = 4.8
  dimension "d80" = 134.8
  dimension "d83" = 18
  dimension "d86" = 35
extrude "Extrusion1" add sketch "Sketch1" along normal blind 6
equation "\"d7\" = supportL"
equation "\"d9\" = supportXW"
equation "\"d11\" = fingerW"
equation "\"d12\" = fingerH"
equation "\"d38\" = fingerSpacing"
equation "\"d49\" = fingerSpacing"
equation "\"d58\" = fingerH"
equation "\"d60\" = fingerW"
equation "\"d61\" = fingerSpacing - fingerW"
equation "\"d62\" = 0.5 * fingerSpacing"
equation "\"d69\" = fingerSpacing"
equation "\"d75\" = clearanceM4"
equation "\"d76\" = 0.5 * actuatorMountX"
equation "\"d77\" = 0.5 * actuatorMountY"
equation "\"d78\" = d79"
equation "\"d80\" = acutatorMountSpacing"
equation "\"d83\" = actuatorMountY"
equation "\"d86\" = actuatorMountX"
equation "\"d54\" = thickness"
equation "\"moduleWidth\" = 118"
equation "\"moduleHeight\" = 96"
equation "\"moduleMountD\" = 6.8"
equation "\"moduleCornerR\" = 5"
equation "\"d4\" = moduleCornerR"
equation "\"d5\" = moduleMountD"
equation "\"d6\" = moduleMountD"
equation "\"d8\" = moduleMountD"
equation "\"d10\" = moduleMountD"
equation "\"moduleOpeningR\" = 25"
equation "\"d13\" = moduleOpeningR"
equation "\"thickness\" = 6"
equation "\"d15\" = thickness"
equation "\"d16\" = 0"
equation "\"kerf\" = 0.15"
equation "\"fingerW\" = 10"
equation "\"fingerSpacing\" = 20"
equation "\"fingerholeW\" = fingerW - 2 * kerf"
equation "\"fingerholeH\" = thickness - kerf"
equation "\"moduleMountClearance\" = 19"
equation "\"actuatorW\" = 28"
equation "\"actuatorH\" = 40.8"
equation "\"openingMFC\" = 45"
equation "\"d28\" = thickness"
equation "\"d29\" = thickness"
equation "\"d30\" = 0.5 * actuatorH + thickness"
equation "\"d32\" = fingerholeH"
equation "\"d33\" = fingerholeW"
equation "\"d41\" = fingerholeH"
equation "\"d42\" = fingerholeW"
equation "\"supportSpacingFromMounting\" = 15"
equation "\"d52\" = 58.075"
equation "\"d53\" = 9.475"
equation "\"d0\" = moduleHeight"
equation "\"d1\" = moduleWidth"
equation "\"d17\" = openingMFC"
equation "\"d19\" = moduleMountClearance"
equation "\"d31\" = supportSpacingFromMounting"
equation "\"supportXW\" = -2 * thickness + moduleMountW - 2 * supportSpacingFromMounting + kerf"
equation "\"chairThickness\" = 12.7"
equation "\"supportL\" = -chairThickness + dildoL + actuatorMountL - thickness"
equation "\"fingerH\" = thickness"
equation "\"d18\" = fingerH"
equation "\"d24\" = supportL"
equation "\"d44\" = thickness"
equation "\"d47\" = 0"
equation "\"d64\" = 9.4"
equation "\"supportsCTCZ\" = d64"
equation "\"clearanceM4\" = 4.8"
equation "\"actuatorMountX\" = 35"
equation "\"actuatorMountY\" = 18"
equation "\"acutatorMountSpacing\" = 134.8"
equation "\"d79\" = 4.8"
equation "\"moduleMountW\" = 100"
equation "\"dildoL\" = 170"
equation "\"actuatorMountL\" = 190"
properties part number "Module_supportX_MFC"
